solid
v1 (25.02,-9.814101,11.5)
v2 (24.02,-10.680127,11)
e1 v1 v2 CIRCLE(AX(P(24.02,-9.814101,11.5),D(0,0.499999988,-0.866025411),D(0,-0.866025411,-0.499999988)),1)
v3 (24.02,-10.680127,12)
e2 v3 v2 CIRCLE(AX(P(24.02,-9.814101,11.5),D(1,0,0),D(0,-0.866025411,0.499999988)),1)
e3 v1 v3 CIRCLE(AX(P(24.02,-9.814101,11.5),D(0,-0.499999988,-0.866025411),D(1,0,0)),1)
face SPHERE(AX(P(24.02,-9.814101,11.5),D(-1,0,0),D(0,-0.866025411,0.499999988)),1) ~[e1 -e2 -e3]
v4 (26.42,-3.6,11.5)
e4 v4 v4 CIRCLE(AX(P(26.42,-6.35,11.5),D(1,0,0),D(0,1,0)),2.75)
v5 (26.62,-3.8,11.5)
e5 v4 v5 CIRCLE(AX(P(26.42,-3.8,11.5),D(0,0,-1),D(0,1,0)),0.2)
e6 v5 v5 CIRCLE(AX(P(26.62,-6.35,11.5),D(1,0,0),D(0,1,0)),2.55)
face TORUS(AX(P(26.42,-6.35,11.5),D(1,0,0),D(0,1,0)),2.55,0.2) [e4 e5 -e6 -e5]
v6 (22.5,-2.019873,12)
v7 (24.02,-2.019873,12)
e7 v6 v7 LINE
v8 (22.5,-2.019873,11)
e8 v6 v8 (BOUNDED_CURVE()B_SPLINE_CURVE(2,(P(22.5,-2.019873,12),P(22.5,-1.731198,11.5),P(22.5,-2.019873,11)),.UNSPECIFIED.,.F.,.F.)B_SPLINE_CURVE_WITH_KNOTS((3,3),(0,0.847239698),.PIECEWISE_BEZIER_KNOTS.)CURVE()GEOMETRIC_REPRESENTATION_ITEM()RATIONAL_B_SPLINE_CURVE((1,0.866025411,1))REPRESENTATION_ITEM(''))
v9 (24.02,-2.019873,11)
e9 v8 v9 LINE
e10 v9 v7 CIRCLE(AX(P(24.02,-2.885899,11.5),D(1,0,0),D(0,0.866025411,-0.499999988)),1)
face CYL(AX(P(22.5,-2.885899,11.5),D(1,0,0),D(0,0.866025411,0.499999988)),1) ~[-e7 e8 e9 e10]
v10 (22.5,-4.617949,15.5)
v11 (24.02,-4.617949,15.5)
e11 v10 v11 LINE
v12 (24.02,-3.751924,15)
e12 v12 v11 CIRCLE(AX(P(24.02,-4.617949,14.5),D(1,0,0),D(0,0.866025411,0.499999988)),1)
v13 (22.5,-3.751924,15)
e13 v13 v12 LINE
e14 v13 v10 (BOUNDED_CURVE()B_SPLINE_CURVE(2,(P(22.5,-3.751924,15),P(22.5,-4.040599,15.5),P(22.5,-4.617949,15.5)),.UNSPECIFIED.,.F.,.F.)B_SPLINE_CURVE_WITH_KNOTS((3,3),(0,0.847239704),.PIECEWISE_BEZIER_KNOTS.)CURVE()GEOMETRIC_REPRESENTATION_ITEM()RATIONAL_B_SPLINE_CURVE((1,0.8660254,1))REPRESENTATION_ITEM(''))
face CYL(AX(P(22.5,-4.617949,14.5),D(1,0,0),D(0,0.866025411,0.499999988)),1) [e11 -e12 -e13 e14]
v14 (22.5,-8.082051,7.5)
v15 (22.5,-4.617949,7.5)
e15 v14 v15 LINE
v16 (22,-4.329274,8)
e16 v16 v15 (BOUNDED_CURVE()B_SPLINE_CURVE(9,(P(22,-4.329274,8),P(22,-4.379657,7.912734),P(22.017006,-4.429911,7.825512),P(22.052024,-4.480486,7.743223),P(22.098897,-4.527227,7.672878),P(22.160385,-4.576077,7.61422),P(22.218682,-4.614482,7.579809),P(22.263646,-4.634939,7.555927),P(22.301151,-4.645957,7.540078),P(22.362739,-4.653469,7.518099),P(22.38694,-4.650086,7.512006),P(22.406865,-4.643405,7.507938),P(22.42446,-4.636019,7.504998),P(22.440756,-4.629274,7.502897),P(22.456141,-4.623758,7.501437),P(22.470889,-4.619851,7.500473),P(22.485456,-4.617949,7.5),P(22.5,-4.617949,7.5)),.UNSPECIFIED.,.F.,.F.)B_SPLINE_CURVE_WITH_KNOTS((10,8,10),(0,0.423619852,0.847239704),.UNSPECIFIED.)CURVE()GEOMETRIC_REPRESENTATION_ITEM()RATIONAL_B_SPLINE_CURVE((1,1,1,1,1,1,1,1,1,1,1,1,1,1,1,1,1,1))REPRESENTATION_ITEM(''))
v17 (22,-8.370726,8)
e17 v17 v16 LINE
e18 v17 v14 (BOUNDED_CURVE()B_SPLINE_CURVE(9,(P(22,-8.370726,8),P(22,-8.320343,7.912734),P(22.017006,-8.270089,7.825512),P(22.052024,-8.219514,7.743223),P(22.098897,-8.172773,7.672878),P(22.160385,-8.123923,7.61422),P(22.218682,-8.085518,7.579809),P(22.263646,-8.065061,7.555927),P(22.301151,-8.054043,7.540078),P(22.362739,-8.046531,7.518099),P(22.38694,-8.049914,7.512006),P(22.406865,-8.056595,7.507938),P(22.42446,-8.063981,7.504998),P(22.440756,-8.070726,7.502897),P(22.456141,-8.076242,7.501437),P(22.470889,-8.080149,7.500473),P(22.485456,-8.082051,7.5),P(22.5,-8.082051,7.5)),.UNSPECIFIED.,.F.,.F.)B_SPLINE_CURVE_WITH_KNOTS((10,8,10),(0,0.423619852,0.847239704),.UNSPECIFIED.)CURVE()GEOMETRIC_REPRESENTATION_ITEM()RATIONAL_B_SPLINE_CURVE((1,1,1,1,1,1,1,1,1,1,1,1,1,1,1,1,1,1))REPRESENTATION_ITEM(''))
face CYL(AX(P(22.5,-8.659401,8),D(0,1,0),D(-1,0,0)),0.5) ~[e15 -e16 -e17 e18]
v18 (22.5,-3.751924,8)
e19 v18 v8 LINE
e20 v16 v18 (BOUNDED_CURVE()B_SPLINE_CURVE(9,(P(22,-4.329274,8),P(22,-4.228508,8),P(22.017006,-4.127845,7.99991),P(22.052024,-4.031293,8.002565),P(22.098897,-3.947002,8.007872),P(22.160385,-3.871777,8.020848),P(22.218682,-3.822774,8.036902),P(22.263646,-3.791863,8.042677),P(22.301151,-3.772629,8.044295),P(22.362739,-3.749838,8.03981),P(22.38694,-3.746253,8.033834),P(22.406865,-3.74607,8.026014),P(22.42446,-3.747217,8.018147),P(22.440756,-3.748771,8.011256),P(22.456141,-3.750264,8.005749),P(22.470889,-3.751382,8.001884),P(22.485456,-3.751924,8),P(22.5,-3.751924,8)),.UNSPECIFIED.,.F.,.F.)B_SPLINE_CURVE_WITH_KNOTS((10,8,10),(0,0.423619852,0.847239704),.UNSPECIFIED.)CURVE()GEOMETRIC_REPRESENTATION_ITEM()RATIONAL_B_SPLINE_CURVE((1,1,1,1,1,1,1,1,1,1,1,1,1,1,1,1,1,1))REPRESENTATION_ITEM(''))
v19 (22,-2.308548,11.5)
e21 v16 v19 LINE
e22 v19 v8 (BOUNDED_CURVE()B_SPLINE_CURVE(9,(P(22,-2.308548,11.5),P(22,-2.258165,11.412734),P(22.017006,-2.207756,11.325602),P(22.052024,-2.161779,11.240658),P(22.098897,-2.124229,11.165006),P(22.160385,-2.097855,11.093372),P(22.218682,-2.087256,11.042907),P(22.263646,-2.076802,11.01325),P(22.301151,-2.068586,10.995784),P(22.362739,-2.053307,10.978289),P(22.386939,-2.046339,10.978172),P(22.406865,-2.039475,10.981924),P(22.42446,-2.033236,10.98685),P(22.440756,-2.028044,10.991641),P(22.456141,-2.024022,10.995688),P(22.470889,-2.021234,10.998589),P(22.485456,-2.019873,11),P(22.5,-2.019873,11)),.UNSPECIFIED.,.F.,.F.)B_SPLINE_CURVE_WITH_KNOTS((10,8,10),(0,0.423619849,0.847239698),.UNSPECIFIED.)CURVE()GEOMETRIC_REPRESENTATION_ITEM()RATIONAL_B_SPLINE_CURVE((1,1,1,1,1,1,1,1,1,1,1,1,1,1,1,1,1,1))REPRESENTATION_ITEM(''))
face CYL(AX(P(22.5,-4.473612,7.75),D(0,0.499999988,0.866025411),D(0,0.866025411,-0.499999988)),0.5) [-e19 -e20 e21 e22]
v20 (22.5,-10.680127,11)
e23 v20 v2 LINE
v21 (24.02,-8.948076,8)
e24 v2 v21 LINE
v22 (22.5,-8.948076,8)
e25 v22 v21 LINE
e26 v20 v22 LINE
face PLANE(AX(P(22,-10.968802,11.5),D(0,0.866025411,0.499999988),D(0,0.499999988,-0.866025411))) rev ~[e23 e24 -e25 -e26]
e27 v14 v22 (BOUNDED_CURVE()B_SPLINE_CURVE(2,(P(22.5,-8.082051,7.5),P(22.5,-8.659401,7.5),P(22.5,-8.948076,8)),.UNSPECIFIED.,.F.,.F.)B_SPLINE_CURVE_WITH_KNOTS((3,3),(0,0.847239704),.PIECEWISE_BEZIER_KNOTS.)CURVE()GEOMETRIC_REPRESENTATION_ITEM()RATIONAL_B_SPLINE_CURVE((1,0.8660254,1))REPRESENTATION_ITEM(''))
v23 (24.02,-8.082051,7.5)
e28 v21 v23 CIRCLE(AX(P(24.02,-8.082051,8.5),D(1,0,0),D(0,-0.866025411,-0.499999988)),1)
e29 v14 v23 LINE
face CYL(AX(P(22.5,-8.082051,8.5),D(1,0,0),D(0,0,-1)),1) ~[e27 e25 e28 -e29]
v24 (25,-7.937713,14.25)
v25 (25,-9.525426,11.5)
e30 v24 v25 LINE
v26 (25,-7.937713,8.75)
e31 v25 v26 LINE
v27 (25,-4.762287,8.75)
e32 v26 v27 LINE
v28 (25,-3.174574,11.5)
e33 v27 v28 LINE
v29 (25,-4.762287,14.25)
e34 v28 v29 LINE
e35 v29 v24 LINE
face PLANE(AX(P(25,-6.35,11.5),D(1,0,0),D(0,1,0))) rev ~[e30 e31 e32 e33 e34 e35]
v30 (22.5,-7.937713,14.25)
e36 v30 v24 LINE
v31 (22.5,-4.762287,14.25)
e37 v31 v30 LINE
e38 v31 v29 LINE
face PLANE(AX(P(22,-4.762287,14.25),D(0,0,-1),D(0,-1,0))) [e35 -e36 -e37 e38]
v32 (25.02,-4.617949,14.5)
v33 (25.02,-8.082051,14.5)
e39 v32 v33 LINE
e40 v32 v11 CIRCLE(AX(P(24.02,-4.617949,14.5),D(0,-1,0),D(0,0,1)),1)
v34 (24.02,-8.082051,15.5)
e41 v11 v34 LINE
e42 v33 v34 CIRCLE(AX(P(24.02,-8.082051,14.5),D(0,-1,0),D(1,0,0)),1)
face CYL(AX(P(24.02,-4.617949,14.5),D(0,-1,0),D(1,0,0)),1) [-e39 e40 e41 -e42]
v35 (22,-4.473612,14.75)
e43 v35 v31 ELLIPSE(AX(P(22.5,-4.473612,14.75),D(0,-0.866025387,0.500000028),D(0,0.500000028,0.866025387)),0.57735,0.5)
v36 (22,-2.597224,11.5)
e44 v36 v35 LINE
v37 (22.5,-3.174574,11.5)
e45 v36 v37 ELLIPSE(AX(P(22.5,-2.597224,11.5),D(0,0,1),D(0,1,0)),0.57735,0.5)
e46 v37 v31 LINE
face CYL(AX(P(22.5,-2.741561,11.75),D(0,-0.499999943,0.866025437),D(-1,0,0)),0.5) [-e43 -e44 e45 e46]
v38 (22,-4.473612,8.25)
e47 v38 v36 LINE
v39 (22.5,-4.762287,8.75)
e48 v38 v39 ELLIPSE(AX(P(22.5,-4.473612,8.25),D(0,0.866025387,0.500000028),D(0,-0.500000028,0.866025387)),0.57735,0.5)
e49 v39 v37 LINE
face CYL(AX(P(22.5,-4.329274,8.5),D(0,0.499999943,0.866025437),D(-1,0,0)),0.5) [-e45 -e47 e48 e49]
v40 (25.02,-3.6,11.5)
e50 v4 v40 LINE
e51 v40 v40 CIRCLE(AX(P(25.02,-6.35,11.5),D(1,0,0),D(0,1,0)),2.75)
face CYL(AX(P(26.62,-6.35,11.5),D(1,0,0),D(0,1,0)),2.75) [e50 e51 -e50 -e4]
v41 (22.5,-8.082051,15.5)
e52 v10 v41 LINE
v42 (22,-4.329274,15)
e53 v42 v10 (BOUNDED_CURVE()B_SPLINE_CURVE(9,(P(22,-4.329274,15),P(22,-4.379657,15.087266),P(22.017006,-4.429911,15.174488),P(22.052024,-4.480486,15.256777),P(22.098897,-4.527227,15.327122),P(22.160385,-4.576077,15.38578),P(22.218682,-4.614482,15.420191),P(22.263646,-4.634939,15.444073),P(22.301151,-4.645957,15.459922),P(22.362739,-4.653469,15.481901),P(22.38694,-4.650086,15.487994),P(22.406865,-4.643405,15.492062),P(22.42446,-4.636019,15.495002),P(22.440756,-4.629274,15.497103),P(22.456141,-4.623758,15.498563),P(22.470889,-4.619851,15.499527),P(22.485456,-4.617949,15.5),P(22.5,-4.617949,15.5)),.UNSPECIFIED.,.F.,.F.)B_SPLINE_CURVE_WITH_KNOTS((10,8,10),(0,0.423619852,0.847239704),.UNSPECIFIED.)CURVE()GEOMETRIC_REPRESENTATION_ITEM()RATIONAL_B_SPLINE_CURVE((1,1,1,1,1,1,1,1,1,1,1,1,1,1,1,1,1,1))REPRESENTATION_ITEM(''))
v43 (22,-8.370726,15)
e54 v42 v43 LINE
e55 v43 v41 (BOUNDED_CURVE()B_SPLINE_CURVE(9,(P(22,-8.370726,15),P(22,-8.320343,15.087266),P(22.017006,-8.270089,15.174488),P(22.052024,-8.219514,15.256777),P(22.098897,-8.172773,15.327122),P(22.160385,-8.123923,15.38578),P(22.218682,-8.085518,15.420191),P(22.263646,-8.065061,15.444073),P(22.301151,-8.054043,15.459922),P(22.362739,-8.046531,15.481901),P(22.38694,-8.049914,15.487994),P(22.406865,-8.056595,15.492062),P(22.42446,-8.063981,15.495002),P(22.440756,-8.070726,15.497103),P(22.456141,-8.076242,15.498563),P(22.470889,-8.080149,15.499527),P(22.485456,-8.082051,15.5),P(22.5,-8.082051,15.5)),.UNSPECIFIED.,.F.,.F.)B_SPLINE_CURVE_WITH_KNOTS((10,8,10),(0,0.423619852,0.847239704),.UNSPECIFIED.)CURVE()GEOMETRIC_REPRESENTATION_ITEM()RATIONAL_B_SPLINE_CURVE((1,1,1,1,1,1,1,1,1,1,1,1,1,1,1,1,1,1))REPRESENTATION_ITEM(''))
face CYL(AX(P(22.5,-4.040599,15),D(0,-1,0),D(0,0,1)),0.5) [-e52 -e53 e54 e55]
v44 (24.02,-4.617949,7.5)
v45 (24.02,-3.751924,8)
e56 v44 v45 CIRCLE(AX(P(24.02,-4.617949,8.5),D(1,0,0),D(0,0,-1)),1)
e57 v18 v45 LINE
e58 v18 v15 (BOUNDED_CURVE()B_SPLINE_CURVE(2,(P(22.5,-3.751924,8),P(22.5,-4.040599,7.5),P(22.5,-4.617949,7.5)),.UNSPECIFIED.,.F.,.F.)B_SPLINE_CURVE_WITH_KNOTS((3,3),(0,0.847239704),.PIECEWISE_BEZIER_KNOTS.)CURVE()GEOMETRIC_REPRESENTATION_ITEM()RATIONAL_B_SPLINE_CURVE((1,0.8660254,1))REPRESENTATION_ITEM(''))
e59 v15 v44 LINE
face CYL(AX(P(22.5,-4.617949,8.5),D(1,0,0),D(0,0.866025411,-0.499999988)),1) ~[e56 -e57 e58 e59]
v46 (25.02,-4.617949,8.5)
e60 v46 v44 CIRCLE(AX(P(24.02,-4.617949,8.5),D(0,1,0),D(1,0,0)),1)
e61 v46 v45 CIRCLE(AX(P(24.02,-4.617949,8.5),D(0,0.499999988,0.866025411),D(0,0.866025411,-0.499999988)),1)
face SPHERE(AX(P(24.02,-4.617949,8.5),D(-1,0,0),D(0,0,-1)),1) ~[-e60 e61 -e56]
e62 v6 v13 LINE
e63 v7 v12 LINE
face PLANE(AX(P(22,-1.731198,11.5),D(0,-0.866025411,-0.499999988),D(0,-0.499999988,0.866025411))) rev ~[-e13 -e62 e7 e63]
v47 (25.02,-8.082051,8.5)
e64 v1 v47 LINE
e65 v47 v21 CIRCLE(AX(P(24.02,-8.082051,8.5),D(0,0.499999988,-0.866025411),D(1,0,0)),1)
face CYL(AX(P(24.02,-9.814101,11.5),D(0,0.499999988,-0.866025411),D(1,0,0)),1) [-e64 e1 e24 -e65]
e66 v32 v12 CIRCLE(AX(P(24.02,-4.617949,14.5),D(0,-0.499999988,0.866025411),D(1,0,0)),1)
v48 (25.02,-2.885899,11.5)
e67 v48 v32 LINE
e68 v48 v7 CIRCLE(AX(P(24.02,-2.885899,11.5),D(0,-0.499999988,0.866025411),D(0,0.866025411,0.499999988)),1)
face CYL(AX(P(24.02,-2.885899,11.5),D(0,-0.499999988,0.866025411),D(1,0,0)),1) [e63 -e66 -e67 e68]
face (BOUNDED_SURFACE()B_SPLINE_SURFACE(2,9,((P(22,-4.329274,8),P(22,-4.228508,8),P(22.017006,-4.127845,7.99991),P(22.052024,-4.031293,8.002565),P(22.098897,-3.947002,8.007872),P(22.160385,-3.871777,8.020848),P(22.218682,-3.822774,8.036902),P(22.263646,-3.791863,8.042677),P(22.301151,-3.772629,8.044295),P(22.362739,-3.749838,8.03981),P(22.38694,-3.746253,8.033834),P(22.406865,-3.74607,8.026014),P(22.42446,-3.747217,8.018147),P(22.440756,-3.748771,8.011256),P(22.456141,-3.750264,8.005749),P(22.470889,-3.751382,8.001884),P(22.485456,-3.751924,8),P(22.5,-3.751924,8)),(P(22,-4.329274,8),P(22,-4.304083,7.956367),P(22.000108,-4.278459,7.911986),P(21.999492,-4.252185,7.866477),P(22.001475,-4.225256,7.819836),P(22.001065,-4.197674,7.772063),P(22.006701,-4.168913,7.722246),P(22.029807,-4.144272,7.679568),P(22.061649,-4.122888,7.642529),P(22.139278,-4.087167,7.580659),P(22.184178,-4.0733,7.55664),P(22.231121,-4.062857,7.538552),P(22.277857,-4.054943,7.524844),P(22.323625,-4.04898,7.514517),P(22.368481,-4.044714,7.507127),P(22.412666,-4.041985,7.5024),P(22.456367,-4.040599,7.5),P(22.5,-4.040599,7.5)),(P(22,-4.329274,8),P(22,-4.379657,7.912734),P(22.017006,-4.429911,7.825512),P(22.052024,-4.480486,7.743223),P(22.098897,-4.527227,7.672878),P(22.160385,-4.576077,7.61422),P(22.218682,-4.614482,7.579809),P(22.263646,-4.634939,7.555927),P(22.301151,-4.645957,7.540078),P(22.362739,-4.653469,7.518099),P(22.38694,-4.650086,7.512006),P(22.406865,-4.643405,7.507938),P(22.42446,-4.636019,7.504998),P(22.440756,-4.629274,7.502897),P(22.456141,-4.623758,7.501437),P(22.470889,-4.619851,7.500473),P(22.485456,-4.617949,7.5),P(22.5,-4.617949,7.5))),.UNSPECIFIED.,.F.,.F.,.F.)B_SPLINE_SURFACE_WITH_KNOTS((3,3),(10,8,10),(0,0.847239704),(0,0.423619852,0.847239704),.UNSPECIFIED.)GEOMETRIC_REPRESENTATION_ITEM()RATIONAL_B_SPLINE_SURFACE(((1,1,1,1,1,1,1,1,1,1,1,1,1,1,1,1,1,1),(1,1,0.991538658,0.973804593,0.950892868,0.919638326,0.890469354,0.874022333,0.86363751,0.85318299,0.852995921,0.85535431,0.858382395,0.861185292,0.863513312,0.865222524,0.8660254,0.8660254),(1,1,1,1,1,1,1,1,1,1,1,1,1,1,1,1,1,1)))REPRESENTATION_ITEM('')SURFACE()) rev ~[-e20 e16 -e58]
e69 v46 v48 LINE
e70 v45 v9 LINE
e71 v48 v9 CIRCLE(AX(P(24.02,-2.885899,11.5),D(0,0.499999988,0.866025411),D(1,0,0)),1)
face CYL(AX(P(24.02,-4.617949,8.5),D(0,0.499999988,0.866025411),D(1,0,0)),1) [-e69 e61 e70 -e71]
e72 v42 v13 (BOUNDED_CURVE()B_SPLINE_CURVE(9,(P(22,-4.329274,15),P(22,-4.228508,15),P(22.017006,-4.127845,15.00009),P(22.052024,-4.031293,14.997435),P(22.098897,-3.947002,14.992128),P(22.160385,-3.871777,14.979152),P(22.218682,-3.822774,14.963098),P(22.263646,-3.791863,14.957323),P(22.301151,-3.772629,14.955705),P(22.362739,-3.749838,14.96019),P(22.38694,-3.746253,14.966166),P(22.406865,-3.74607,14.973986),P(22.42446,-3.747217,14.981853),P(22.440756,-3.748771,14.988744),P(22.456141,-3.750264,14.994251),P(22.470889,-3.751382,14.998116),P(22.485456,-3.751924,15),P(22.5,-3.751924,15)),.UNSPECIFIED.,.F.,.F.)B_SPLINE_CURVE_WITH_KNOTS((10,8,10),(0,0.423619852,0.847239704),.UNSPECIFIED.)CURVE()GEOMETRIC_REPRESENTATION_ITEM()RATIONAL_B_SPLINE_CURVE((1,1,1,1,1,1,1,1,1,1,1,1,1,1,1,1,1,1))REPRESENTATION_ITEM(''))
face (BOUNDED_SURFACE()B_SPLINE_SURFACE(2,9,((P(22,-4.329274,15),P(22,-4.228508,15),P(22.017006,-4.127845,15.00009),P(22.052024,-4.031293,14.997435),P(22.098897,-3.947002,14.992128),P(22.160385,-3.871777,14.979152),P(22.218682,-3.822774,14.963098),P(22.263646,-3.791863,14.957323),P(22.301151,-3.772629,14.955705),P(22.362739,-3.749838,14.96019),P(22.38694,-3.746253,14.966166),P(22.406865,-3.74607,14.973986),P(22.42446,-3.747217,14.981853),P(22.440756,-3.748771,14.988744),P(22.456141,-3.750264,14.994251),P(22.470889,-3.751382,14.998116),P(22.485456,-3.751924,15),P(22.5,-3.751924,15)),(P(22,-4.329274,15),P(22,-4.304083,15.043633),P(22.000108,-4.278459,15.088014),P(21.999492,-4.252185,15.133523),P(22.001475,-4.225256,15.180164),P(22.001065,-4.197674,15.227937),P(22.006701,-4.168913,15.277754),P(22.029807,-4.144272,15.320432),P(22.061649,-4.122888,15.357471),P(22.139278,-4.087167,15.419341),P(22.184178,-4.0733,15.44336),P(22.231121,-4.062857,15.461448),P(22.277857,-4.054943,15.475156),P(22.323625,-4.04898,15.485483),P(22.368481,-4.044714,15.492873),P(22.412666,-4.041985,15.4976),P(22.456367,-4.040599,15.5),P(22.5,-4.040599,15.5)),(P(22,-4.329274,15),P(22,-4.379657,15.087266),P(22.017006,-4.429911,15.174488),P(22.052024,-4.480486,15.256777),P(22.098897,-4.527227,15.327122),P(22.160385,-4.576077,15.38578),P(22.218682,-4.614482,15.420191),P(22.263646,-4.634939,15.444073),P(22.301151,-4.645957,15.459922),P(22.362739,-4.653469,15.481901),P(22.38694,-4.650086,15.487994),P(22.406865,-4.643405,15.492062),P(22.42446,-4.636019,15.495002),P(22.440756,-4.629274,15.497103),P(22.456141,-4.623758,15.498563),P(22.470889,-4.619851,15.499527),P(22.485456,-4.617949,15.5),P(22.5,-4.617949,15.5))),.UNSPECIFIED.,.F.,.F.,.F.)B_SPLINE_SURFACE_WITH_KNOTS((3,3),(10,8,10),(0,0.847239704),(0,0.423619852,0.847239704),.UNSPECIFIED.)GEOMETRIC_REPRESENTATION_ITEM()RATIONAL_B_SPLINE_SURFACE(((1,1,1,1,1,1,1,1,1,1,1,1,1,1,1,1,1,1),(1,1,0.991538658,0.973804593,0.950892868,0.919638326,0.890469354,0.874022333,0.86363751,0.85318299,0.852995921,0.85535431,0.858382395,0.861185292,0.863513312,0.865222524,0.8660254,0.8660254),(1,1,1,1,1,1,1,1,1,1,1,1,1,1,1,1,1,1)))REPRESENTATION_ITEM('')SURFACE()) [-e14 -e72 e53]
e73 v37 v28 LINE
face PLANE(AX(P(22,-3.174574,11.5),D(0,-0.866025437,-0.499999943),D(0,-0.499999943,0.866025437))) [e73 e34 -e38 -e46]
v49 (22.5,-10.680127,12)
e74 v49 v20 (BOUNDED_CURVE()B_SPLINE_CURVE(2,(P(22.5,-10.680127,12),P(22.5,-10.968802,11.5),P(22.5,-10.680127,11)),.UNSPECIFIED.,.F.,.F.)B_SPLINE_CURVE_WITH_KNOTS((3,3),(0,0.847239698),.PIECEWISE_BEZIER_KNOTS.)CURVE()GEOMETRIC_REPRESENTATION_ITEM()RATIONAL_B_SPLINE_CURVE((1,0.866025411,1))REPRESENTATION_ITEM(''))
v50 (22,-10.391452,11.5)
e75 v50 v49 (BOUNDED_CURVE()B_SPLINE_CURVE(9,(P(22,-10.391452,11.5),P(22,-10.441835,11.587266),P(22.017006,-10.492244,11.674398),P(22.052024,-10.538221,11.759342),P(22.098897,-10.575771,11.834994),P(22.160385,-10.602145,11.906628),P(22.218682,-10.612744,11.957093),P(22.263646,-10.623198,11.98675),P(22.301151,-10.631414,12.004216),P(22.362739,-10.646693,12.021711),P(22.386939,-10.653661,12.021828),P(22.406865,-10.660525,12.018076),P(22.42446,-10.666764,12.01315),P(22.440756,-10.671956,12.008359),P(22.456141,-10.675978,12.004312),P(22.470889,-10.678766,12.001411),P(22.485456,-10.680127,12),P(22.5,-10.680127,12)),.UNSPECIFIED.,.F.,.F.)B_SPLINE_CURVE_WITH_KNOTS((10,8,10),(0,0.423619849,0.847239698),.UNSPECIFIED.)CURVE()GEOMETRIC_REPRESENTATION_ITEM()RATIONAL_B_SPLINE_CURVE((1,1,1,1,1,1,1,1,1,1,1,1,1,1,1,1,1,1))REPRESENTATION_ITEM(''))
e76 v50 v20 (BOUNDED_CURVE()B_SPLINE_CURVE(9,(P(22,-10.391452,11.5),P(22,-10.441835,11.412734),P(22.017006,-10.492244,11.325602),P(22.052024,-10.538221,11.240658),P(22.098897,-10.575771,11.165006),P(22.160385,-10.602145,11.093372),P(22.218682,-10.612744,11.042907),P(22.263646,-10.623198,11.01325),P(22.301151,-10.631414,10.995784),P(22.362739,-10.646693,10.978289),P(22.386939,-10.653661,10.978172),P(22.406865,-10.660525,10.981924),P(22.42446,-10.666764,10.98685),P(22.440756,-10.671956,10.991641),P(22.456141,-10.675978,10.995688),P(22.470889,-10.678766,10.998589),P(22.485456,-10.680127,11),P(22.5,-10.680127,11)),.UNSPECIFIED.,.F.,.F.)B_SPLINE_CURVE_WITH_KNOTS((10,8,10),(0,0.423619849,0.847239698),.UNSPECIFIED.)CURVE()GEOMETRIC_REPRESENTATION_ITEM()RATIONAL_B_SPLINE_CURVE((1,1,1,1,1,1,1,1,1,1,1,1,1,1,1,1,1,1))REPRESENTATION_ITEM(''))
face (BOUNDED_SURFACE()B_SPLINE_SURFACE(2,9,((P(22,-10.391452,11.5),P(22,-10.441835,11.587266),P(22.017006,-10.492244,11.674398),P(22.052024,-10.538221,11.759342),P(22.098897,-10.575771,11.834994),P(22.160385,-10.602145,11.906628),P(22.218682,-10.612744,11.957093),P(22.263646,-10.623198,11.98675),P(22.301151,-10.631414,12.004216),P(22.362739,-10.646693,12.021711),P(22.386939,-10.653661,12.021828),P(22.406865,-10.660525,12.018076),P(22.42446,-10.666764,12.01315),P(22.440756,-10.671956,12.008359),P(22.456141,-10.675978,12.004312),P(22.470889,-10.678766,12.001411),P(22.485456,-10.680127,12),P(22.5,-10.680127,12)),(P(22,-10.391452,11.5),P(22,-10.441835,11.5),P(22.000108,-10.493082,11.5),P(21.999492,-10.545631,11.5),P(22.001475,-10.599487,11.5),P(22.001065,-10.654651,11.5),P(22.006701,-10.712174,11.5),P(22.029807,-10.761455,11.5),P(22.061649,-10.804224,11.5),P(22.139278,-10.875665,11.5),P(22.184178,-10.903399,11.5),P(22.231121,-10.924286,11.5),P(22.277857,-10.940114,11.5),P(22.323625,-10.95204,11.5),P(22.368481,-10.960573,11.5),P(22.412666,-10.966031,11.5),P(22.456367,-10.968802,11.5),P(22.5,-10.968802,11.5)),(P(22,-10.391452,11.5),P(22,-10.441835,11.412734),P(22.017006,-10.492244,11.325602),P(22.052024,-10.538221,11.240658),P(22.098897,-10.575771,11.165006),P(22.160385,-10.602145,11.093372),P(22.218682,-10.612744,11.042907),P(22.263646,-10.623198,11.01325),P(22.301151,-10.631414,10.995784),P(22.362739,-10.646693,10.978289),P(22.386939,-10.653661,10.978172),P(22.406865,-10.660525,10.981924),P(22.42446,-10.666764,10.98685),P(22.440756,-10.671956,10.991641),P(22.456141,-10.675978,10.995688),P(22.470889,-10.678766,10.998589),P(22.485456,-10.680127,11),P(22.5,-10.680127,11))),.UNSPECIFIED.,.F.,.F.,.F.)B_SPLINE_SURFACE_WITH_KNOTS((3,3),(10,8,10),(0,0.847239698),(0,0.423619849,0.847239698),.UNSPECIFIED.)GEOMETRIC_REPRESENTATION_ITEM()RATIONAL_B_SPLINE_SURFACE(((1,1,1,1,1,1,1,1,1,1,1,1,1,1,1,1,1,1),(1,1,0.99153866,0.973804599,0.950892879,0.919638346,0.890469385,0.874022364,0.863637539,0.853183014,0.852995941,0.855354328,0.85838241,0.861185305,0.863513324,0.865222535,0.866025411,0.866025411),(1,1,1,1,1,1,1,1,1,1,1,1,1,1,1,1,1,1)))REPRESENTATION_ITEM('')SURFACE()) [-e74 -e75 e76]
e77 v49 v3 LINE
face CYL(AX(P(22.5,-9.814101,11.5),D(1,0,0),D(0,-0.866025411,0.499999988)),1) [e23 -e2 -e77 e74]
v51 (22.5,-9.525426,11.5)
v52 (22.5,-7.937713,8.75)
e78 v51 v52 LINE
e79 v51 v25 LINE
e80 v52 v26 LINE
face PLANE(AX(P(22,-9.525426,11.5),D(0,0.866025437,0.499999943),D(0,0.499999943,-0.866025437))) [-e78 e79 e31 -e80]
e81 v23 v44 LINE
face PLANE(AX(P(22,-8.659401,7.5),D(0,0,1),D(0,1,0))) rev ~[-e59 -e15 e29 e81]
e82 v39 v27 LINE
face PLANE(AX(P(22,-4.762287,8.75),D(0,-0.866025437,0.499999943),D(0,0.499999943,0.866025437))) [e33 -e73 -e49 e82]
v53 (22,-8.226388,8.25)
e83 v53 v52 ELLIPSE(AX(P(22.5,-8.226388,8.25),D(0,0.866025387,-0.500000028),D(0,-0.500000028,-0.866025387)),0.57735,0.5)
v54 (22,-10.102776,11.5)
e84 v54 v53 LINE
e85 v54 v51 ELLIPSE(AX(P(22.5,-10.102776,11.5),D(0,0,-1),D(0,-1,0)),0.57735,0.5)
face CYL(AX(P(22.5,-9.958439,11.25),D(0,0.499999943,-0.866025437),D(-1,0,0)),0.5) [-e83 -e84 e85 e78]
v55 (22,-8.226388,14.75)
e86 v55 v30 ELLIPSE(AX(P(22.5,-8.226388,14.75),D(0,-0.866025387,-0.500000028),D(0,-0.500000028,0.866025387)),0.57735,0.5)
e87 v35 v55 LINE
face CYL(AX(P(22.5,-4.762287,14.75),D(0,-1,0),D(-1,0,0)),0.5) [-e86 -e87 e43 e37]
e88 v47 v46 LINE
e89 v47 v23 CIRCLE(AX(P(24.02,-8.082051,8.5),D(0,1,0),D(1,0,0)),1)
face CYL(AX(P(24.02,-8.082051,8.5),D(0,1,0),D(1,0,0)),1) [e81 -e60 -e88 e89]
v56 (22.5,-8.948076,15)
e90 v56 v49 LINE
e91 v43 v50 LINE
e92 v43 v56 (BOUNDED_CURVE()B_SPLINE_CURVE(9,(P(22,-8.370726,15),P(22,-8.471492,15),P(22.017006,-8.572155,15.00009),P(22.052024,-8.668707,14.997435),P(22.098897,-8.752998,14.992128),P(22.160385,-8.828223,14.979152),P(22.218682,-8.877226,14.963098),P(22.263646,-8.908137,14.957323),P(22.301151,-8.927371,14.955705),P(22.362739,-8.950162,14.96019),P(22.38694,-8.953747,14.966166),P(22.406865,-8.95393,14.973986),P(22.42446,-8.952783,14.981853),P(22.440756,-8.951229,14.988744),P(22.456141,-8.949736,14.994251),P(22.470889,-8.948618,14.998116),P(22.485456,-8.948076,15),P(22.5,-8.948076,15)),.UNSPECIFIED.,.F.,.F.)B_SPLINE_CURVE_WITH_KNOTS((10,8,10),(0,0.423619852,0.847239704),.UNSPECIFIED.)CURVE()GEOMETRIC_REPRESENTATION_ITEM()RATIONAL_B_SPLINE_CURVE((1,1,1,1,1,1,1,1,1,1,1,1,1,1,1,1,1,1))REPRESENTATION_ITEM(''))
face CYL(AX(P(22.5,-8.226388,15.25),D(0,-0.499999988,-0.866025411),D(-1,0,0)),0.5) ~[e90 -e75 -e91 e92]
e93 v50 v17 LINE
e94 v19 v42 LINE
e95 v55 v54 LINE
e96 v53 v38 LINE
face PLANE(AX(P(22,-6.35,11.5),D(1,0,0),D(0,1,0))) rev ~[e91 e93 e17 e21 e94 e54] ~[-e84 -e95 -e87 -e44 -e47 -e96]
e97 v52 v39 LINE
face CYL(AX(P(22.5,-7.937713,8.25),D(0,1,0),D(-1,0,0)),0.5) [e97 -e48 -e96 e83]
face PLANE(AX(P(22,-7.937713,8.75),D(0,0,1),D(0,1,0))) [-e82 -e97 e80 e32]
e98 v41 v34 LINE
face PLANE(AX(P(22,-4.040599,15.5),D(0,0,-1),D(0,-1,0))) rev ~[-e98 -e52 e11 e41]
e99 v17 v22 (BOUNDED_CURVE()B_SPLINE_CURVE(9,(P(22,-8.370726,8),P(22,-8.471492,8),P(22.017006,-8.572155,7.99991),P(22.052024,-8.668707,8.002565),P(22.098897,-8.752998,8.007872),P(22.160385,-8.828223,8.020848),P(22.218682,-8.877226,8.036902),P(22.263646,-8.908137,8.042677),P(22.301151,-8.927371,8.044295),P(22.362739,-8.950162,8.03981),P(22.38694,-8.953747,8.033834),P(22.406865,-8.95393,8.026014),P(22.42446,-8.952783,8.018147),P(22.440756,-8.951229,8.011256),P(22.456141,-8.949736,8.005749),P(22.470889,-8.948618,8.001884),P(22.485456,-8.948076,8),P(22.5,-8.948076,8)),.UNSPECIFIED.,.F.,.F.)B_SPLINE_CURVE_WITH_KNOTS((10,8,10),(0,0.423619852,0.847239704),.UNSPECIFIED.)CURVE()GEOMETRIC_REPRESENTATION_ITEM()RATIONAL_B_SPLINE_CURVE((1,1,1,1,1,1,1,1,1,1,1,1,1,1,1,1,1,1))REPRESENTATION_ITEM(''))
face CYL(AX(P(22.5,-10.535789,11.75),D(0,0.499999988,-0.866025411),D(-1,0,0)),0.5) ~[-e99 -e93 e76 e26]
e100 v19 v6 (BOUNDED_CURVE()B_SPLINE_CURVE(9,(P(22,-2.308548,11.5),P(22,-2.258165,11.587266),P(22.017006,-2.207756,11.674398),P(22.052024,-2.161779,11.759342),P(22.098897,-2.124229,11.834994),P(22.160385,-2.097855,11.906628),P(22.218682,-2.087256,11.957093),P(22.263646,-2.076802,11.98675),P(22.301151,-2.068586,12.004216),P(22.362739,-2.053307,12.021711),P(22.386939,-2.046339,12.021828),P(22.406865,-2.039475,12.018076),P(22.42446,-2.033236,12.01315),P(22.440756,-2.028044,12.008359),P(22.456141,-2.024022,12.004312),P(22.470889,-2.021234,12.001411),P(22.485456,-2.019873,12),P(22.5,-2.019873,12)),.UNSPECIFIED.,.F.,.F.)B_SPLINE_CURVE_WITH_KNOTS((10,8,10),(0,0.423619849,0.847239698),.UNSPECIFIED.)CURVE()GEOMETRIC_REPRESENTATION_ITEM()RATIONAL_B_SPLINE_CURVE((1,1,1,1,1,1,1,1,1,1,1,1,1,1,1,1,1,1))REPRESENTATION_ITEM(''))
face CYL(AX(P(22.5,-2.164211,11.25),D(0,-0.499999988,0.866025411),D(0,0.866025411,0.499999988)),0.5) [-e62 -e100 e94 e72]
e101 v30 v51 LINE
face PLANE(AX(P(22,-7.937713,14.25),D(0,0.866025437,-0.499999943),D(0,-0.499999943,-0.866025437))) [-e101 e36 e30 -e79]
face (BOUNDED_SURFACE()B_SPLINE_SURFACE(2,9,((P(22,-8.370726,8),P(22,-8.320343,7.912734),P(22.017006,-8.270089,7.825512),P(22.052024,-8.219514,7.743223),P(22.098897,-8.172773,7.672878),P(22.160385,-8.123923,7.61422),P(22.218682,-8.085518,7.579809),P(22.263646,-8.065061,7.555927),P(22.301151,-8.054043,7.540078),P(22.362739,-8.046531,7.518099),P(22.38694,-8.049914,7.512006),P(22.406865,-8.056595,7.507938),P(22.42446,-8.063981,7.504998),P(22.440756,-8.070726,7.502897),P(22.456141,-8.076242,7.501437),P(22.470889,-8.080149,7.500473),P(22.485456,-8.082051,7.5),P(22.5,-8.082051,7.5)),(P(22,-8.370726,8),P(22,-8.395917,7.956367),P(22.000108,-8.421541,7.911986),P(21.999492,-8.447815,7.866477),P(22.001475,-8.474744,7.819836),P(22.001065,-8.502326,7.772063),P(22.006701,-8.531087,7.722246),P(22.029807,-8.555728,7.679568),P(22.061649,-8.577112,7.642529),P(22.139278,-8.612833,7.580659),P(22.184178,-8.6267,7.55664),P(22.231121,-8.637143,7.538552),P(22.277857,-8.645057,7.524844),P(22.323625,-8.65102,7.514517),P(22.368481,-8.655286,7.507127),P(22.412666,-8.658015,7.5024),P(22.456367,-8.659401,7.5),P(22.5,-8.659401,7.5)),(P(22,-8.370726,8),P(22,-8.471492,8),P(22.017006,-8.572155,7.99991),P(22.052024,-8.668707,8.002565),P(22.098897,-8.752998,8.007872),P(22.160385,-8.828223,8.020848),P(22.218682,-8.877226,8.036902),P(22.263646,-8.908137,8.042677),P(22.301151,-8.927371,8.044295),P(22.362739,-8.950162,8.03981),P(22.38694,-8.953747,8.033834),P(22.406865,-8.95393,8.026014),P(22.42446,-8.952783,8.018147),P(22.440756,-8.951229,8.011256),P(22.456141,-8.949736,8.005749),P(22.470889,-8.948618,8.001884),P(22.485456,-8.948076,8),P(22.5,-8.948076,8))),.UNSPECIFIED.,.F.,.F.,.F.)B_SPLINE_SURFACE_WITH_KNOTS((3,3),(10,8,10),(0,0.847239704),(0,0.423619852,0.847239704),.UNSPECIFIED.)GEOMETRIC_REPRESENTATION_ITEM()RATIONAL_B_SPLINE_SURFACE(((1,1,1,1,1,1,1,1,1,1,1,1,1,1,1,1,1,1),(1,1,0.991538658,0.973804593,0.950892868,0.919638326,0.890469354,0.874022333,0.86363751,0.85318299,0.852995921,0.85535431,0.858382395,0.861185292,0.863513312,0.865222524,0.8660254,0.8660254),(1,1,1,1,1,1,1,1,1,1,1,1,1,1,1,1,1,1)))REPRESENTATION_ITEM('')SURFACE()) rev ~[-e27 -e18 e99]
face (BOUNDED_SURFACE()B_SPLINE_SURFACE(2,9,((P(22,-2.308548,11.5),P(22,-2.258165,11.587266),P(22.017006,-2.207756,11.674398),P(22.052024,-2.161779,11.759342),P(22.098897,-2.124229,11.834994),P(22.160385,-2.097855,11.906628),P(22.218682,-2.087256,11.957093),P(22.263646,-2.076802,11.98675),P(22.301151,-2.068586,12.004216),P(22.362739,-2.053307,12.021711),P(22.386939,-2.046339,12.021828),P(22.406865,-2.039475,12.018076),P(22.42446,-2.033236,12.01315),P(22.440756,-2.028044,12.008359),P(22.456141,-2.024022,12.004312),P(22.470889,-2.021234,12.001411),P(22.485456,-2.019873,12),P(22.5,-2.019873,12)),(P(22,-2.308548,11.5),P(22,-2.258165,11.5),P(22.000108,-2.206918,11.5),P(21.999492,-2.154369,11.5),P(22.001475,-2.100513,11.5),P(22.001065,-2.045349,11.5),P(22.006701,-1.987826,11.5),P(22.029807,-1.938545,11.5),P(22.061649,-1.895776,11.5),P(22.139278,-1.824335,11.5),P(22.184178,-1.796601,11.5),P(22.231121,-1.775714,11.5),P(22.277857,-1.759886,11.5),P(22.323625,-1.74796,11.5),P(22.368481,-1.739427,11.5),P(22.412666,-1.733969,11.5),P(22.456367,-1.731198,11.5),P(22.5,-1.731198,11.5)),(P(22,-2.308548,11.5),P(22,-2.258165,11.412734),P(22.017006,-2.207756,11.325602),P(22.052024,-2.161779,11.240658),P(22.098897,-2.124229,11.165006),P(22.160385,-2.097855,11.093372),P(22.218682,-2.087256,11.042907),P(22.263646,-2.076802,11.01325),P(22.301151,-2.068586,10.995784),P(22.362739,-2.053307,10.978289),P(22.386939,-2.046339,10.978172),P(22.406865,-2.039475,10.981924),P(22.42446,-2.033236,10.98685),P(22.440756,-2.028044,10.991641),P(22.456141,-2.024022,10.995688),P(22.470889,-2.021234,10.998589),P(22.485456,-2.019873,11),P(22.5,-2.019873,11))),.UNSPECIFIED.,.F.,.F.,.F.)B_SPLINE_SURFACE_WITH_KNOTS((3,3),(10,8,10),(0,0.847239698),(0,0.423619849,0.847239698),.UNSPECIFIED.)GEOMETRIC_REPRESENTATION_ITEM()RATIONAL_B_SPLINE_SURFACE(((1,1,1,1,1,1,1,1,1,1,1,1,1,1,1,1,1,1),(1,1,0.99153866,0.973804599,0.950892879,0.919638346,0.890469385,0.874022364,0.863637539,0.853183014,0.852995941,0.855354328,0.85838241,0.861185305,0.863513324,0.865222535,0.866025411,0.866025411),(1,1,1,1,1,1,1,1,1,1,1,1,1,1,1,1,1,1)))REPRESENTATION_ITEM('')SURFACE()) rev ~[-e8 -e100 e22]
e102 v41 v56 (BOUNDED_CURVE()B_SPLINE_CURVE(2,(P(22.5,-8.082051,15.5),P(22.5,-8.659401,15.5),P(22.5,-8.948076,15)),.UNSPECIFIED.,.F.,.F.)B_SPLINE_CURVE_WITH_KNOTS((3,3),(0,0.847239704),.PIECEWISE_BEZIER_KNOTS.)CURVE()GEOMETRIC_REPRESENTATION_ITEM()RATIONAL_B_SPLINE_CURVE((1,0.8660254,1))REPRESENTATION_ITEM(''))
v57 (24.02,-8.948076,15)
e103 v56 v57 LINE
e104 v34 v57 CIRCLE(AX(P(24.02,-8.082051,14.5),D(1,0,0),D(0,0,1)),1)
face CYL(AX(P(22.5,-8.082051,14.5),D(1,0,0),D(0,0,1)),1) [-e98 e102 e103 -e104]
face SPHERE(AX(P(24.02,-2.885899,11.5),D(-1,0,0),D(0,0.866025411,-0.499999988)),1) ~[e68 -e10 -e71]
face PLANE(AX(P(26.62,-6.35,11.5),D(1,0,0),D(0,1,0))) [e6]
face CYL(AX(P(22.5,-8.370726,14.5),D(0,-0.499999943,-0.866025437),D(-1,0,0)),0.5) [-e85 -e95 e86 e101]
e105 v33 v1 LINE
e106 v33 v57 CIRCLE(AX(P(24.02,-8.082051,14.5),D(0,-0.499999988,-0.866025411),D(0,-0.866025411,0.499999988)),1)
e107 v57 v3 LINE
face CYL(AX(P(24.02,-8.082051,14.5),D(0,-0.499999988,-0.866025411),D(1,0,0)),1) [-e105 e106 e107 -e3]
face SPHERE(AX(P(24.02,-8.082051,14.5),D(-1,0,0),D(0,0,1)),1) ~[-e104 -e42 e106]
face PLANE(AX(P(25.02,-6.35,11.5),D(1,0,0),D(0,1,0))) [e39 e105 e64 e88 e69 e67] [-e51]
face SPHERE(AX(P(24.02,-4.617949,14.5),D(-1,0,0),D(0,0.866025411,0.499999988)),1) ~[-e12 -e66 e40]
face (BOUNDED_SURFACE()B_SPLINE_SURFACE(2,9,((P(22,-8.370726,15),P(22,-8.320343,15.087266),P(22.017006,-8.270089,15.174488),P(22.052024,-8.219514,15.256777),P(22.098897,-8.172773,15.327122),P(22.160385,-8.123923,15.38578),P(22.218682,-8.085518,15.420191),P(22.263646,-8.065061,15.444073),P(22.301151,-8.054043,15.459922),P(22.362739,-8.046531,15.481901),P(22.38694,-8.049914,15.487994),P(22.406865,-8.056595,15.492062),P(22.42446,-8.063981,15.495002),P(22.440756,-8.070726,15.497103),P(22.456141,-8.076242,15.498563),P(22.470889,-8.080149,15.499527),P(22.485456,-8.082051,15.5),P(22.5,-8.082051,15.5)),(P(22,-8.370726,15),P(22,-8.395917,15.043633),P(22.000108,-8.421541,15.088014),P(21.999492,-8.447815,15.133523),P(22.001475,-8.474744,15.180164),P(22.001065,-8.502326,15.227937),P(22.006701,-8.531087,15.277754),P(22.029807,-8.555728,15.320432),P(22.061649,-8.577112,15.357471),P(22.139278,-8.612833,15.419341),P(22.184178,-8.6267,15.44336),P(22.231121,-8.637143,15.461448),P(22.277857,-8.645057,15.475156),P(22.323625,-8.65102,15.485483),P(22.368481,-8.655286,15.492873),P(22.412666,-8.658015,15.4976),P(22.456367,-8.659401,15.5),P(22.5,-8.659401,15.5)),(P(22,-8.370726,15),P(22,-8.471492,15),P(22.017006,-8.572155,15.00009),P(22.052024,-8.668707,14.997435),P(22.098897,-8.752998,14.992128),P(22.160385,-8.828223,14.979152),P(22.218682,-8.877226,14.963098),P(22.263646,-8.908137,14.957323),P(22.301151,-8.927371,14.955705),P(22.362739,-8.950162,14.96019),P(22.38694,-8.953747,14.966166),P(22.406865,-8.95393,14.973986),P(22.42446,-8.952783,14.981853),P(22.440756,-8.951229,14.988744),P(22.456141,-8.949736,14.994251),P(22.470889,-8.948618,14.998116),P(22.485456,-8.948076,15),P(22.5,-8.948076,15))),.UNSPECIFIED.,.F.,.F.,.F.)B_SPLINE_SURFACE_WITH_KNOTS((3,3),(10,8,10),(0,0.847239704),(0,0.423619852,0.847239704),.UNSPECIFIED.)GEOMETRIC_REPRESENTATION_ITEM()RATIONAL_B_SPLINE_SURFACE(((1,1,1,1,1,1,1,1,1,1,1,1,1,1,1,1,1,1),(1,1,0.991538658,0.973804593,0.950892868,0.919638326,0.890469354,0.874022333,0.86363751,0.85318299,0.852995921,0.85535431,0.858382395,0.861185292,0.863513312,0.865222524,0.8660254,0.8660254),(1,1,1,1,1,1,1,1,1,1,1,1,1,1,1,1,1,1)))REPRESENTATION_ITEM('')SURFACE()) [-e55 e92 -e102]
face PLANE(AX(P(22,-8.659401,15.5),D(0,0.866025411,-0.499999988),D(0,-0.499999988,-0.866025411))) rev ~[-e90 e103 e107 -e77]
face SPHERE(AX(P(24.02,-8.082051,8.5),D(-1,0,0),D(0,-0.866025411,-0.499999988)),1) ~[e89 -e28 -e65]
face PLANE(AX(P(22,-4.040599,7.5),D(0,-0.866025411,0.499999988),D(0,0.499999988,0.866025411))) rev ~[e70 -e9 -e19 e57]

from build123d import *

# Parameters (mm, degrees)
PAD005_DEPTH    = 4.62
POCKET004_DEPTH = 3
FILLET_R        = 0.5
FILLET001_R     = 1
SKETCH011_R     = 2.75
POCKET005_DEPTH = 1.6
FILLET002_R     = 1
FILLET003_R     = 0.2


with BuildPart() as part:
    # Sketch009 → Pad005 (new body)
    with BuildSketch(Plane.YZ):
        Polygon((4.618802, 0), (2.309401, 4), (-2.309401, 4), (-4.618802, 0), (-2.309401, -4), (2.309401, -4), align=None)
    extrude(amount=PAD005_DEPTH)

    # Sketch010 → Pocket004 (cut)
    with BuildSketch(Plane.YZ):
        Polygon((3.175426, 0), (1.587713, 2.75), (-1.587713, 2.75), (-3.175426, 0), (-1.587713, -2.75), (1.587713, -2.75), align=None)
    extrude(amount=POCKET004_DEPTH, mode=Mode.SUBTRACT)

    # Fillet
    fillet_edges = [part.edges().sort_by_distance(p)[0] for p in [
        (0, 3.464102, -2),
        (0, 3.464102, 2),
        (0, 0, 4),
        (0, -3.464102, 2),
        (0, -3.464102, -2),
        (0, 0, -4),
        (0, 2.38157, -1.375),
        (0, 2.38157, 1.375),
        (0, 0, 2.75),
        (0, -2.38157, 1.375),
        (0, -2.38157, -1.375),
        (0, 0, -2.75),
    ]]
    fillet(fillet_edges, radius=FILLET_R)

    # Fillet001
    fillet001_edges = [part.edges().sort_by_distance(p)[0] for p in [
        (2.56, 4.618802, 0),
        (2.56, 2.309401, 4),
        (2.56, -2.309401, 4),
        (2.56, 2.309401, -4),
        (2.56, -2.309401, -4),
        (2.56, -4.618802, 0),
    ]]
    fillet(fillet001_edges, radius=FILLET001_R)

    # Sketch011 (on Face5 of Fillet001) → Pocket005 (cut)
    with BuildSketch(Plane.YZ.offset(4.62)):
        Polygon((4.618802, 0), (2.309401, 4), (-2.309401, 4), (-4.618802, 0), (-2.309401, -4), (2.309401, -4), align=None)
        Circle(SKETCH011_R, mode=Mode.SUBTRACT)
    extrude(amount=-POCKET005_DEPTH, mode=Mode.SUBTRACT)

    # Fillet002
    fillet002_edges = [part.edges().sort_by_distance(p)[0] for p in [
        (3.02, 0, -4),
    ]]
    fillet(fillet002_edges, radius=FILLET002_R)

    # Fillet003
    fillet003_edges = [part.edges().sort_by_distance(p)[0] for p in [
        (4.62, -2.75, 0),
    ]]
    fillet(fillet003_edges, radius=FILLET003_R)


with BuildPart() as part_1:
    # Body001 placement: moved
    add(part.part.moved(Location((22, -6.35, 11.5))))


solid = part_1.part
